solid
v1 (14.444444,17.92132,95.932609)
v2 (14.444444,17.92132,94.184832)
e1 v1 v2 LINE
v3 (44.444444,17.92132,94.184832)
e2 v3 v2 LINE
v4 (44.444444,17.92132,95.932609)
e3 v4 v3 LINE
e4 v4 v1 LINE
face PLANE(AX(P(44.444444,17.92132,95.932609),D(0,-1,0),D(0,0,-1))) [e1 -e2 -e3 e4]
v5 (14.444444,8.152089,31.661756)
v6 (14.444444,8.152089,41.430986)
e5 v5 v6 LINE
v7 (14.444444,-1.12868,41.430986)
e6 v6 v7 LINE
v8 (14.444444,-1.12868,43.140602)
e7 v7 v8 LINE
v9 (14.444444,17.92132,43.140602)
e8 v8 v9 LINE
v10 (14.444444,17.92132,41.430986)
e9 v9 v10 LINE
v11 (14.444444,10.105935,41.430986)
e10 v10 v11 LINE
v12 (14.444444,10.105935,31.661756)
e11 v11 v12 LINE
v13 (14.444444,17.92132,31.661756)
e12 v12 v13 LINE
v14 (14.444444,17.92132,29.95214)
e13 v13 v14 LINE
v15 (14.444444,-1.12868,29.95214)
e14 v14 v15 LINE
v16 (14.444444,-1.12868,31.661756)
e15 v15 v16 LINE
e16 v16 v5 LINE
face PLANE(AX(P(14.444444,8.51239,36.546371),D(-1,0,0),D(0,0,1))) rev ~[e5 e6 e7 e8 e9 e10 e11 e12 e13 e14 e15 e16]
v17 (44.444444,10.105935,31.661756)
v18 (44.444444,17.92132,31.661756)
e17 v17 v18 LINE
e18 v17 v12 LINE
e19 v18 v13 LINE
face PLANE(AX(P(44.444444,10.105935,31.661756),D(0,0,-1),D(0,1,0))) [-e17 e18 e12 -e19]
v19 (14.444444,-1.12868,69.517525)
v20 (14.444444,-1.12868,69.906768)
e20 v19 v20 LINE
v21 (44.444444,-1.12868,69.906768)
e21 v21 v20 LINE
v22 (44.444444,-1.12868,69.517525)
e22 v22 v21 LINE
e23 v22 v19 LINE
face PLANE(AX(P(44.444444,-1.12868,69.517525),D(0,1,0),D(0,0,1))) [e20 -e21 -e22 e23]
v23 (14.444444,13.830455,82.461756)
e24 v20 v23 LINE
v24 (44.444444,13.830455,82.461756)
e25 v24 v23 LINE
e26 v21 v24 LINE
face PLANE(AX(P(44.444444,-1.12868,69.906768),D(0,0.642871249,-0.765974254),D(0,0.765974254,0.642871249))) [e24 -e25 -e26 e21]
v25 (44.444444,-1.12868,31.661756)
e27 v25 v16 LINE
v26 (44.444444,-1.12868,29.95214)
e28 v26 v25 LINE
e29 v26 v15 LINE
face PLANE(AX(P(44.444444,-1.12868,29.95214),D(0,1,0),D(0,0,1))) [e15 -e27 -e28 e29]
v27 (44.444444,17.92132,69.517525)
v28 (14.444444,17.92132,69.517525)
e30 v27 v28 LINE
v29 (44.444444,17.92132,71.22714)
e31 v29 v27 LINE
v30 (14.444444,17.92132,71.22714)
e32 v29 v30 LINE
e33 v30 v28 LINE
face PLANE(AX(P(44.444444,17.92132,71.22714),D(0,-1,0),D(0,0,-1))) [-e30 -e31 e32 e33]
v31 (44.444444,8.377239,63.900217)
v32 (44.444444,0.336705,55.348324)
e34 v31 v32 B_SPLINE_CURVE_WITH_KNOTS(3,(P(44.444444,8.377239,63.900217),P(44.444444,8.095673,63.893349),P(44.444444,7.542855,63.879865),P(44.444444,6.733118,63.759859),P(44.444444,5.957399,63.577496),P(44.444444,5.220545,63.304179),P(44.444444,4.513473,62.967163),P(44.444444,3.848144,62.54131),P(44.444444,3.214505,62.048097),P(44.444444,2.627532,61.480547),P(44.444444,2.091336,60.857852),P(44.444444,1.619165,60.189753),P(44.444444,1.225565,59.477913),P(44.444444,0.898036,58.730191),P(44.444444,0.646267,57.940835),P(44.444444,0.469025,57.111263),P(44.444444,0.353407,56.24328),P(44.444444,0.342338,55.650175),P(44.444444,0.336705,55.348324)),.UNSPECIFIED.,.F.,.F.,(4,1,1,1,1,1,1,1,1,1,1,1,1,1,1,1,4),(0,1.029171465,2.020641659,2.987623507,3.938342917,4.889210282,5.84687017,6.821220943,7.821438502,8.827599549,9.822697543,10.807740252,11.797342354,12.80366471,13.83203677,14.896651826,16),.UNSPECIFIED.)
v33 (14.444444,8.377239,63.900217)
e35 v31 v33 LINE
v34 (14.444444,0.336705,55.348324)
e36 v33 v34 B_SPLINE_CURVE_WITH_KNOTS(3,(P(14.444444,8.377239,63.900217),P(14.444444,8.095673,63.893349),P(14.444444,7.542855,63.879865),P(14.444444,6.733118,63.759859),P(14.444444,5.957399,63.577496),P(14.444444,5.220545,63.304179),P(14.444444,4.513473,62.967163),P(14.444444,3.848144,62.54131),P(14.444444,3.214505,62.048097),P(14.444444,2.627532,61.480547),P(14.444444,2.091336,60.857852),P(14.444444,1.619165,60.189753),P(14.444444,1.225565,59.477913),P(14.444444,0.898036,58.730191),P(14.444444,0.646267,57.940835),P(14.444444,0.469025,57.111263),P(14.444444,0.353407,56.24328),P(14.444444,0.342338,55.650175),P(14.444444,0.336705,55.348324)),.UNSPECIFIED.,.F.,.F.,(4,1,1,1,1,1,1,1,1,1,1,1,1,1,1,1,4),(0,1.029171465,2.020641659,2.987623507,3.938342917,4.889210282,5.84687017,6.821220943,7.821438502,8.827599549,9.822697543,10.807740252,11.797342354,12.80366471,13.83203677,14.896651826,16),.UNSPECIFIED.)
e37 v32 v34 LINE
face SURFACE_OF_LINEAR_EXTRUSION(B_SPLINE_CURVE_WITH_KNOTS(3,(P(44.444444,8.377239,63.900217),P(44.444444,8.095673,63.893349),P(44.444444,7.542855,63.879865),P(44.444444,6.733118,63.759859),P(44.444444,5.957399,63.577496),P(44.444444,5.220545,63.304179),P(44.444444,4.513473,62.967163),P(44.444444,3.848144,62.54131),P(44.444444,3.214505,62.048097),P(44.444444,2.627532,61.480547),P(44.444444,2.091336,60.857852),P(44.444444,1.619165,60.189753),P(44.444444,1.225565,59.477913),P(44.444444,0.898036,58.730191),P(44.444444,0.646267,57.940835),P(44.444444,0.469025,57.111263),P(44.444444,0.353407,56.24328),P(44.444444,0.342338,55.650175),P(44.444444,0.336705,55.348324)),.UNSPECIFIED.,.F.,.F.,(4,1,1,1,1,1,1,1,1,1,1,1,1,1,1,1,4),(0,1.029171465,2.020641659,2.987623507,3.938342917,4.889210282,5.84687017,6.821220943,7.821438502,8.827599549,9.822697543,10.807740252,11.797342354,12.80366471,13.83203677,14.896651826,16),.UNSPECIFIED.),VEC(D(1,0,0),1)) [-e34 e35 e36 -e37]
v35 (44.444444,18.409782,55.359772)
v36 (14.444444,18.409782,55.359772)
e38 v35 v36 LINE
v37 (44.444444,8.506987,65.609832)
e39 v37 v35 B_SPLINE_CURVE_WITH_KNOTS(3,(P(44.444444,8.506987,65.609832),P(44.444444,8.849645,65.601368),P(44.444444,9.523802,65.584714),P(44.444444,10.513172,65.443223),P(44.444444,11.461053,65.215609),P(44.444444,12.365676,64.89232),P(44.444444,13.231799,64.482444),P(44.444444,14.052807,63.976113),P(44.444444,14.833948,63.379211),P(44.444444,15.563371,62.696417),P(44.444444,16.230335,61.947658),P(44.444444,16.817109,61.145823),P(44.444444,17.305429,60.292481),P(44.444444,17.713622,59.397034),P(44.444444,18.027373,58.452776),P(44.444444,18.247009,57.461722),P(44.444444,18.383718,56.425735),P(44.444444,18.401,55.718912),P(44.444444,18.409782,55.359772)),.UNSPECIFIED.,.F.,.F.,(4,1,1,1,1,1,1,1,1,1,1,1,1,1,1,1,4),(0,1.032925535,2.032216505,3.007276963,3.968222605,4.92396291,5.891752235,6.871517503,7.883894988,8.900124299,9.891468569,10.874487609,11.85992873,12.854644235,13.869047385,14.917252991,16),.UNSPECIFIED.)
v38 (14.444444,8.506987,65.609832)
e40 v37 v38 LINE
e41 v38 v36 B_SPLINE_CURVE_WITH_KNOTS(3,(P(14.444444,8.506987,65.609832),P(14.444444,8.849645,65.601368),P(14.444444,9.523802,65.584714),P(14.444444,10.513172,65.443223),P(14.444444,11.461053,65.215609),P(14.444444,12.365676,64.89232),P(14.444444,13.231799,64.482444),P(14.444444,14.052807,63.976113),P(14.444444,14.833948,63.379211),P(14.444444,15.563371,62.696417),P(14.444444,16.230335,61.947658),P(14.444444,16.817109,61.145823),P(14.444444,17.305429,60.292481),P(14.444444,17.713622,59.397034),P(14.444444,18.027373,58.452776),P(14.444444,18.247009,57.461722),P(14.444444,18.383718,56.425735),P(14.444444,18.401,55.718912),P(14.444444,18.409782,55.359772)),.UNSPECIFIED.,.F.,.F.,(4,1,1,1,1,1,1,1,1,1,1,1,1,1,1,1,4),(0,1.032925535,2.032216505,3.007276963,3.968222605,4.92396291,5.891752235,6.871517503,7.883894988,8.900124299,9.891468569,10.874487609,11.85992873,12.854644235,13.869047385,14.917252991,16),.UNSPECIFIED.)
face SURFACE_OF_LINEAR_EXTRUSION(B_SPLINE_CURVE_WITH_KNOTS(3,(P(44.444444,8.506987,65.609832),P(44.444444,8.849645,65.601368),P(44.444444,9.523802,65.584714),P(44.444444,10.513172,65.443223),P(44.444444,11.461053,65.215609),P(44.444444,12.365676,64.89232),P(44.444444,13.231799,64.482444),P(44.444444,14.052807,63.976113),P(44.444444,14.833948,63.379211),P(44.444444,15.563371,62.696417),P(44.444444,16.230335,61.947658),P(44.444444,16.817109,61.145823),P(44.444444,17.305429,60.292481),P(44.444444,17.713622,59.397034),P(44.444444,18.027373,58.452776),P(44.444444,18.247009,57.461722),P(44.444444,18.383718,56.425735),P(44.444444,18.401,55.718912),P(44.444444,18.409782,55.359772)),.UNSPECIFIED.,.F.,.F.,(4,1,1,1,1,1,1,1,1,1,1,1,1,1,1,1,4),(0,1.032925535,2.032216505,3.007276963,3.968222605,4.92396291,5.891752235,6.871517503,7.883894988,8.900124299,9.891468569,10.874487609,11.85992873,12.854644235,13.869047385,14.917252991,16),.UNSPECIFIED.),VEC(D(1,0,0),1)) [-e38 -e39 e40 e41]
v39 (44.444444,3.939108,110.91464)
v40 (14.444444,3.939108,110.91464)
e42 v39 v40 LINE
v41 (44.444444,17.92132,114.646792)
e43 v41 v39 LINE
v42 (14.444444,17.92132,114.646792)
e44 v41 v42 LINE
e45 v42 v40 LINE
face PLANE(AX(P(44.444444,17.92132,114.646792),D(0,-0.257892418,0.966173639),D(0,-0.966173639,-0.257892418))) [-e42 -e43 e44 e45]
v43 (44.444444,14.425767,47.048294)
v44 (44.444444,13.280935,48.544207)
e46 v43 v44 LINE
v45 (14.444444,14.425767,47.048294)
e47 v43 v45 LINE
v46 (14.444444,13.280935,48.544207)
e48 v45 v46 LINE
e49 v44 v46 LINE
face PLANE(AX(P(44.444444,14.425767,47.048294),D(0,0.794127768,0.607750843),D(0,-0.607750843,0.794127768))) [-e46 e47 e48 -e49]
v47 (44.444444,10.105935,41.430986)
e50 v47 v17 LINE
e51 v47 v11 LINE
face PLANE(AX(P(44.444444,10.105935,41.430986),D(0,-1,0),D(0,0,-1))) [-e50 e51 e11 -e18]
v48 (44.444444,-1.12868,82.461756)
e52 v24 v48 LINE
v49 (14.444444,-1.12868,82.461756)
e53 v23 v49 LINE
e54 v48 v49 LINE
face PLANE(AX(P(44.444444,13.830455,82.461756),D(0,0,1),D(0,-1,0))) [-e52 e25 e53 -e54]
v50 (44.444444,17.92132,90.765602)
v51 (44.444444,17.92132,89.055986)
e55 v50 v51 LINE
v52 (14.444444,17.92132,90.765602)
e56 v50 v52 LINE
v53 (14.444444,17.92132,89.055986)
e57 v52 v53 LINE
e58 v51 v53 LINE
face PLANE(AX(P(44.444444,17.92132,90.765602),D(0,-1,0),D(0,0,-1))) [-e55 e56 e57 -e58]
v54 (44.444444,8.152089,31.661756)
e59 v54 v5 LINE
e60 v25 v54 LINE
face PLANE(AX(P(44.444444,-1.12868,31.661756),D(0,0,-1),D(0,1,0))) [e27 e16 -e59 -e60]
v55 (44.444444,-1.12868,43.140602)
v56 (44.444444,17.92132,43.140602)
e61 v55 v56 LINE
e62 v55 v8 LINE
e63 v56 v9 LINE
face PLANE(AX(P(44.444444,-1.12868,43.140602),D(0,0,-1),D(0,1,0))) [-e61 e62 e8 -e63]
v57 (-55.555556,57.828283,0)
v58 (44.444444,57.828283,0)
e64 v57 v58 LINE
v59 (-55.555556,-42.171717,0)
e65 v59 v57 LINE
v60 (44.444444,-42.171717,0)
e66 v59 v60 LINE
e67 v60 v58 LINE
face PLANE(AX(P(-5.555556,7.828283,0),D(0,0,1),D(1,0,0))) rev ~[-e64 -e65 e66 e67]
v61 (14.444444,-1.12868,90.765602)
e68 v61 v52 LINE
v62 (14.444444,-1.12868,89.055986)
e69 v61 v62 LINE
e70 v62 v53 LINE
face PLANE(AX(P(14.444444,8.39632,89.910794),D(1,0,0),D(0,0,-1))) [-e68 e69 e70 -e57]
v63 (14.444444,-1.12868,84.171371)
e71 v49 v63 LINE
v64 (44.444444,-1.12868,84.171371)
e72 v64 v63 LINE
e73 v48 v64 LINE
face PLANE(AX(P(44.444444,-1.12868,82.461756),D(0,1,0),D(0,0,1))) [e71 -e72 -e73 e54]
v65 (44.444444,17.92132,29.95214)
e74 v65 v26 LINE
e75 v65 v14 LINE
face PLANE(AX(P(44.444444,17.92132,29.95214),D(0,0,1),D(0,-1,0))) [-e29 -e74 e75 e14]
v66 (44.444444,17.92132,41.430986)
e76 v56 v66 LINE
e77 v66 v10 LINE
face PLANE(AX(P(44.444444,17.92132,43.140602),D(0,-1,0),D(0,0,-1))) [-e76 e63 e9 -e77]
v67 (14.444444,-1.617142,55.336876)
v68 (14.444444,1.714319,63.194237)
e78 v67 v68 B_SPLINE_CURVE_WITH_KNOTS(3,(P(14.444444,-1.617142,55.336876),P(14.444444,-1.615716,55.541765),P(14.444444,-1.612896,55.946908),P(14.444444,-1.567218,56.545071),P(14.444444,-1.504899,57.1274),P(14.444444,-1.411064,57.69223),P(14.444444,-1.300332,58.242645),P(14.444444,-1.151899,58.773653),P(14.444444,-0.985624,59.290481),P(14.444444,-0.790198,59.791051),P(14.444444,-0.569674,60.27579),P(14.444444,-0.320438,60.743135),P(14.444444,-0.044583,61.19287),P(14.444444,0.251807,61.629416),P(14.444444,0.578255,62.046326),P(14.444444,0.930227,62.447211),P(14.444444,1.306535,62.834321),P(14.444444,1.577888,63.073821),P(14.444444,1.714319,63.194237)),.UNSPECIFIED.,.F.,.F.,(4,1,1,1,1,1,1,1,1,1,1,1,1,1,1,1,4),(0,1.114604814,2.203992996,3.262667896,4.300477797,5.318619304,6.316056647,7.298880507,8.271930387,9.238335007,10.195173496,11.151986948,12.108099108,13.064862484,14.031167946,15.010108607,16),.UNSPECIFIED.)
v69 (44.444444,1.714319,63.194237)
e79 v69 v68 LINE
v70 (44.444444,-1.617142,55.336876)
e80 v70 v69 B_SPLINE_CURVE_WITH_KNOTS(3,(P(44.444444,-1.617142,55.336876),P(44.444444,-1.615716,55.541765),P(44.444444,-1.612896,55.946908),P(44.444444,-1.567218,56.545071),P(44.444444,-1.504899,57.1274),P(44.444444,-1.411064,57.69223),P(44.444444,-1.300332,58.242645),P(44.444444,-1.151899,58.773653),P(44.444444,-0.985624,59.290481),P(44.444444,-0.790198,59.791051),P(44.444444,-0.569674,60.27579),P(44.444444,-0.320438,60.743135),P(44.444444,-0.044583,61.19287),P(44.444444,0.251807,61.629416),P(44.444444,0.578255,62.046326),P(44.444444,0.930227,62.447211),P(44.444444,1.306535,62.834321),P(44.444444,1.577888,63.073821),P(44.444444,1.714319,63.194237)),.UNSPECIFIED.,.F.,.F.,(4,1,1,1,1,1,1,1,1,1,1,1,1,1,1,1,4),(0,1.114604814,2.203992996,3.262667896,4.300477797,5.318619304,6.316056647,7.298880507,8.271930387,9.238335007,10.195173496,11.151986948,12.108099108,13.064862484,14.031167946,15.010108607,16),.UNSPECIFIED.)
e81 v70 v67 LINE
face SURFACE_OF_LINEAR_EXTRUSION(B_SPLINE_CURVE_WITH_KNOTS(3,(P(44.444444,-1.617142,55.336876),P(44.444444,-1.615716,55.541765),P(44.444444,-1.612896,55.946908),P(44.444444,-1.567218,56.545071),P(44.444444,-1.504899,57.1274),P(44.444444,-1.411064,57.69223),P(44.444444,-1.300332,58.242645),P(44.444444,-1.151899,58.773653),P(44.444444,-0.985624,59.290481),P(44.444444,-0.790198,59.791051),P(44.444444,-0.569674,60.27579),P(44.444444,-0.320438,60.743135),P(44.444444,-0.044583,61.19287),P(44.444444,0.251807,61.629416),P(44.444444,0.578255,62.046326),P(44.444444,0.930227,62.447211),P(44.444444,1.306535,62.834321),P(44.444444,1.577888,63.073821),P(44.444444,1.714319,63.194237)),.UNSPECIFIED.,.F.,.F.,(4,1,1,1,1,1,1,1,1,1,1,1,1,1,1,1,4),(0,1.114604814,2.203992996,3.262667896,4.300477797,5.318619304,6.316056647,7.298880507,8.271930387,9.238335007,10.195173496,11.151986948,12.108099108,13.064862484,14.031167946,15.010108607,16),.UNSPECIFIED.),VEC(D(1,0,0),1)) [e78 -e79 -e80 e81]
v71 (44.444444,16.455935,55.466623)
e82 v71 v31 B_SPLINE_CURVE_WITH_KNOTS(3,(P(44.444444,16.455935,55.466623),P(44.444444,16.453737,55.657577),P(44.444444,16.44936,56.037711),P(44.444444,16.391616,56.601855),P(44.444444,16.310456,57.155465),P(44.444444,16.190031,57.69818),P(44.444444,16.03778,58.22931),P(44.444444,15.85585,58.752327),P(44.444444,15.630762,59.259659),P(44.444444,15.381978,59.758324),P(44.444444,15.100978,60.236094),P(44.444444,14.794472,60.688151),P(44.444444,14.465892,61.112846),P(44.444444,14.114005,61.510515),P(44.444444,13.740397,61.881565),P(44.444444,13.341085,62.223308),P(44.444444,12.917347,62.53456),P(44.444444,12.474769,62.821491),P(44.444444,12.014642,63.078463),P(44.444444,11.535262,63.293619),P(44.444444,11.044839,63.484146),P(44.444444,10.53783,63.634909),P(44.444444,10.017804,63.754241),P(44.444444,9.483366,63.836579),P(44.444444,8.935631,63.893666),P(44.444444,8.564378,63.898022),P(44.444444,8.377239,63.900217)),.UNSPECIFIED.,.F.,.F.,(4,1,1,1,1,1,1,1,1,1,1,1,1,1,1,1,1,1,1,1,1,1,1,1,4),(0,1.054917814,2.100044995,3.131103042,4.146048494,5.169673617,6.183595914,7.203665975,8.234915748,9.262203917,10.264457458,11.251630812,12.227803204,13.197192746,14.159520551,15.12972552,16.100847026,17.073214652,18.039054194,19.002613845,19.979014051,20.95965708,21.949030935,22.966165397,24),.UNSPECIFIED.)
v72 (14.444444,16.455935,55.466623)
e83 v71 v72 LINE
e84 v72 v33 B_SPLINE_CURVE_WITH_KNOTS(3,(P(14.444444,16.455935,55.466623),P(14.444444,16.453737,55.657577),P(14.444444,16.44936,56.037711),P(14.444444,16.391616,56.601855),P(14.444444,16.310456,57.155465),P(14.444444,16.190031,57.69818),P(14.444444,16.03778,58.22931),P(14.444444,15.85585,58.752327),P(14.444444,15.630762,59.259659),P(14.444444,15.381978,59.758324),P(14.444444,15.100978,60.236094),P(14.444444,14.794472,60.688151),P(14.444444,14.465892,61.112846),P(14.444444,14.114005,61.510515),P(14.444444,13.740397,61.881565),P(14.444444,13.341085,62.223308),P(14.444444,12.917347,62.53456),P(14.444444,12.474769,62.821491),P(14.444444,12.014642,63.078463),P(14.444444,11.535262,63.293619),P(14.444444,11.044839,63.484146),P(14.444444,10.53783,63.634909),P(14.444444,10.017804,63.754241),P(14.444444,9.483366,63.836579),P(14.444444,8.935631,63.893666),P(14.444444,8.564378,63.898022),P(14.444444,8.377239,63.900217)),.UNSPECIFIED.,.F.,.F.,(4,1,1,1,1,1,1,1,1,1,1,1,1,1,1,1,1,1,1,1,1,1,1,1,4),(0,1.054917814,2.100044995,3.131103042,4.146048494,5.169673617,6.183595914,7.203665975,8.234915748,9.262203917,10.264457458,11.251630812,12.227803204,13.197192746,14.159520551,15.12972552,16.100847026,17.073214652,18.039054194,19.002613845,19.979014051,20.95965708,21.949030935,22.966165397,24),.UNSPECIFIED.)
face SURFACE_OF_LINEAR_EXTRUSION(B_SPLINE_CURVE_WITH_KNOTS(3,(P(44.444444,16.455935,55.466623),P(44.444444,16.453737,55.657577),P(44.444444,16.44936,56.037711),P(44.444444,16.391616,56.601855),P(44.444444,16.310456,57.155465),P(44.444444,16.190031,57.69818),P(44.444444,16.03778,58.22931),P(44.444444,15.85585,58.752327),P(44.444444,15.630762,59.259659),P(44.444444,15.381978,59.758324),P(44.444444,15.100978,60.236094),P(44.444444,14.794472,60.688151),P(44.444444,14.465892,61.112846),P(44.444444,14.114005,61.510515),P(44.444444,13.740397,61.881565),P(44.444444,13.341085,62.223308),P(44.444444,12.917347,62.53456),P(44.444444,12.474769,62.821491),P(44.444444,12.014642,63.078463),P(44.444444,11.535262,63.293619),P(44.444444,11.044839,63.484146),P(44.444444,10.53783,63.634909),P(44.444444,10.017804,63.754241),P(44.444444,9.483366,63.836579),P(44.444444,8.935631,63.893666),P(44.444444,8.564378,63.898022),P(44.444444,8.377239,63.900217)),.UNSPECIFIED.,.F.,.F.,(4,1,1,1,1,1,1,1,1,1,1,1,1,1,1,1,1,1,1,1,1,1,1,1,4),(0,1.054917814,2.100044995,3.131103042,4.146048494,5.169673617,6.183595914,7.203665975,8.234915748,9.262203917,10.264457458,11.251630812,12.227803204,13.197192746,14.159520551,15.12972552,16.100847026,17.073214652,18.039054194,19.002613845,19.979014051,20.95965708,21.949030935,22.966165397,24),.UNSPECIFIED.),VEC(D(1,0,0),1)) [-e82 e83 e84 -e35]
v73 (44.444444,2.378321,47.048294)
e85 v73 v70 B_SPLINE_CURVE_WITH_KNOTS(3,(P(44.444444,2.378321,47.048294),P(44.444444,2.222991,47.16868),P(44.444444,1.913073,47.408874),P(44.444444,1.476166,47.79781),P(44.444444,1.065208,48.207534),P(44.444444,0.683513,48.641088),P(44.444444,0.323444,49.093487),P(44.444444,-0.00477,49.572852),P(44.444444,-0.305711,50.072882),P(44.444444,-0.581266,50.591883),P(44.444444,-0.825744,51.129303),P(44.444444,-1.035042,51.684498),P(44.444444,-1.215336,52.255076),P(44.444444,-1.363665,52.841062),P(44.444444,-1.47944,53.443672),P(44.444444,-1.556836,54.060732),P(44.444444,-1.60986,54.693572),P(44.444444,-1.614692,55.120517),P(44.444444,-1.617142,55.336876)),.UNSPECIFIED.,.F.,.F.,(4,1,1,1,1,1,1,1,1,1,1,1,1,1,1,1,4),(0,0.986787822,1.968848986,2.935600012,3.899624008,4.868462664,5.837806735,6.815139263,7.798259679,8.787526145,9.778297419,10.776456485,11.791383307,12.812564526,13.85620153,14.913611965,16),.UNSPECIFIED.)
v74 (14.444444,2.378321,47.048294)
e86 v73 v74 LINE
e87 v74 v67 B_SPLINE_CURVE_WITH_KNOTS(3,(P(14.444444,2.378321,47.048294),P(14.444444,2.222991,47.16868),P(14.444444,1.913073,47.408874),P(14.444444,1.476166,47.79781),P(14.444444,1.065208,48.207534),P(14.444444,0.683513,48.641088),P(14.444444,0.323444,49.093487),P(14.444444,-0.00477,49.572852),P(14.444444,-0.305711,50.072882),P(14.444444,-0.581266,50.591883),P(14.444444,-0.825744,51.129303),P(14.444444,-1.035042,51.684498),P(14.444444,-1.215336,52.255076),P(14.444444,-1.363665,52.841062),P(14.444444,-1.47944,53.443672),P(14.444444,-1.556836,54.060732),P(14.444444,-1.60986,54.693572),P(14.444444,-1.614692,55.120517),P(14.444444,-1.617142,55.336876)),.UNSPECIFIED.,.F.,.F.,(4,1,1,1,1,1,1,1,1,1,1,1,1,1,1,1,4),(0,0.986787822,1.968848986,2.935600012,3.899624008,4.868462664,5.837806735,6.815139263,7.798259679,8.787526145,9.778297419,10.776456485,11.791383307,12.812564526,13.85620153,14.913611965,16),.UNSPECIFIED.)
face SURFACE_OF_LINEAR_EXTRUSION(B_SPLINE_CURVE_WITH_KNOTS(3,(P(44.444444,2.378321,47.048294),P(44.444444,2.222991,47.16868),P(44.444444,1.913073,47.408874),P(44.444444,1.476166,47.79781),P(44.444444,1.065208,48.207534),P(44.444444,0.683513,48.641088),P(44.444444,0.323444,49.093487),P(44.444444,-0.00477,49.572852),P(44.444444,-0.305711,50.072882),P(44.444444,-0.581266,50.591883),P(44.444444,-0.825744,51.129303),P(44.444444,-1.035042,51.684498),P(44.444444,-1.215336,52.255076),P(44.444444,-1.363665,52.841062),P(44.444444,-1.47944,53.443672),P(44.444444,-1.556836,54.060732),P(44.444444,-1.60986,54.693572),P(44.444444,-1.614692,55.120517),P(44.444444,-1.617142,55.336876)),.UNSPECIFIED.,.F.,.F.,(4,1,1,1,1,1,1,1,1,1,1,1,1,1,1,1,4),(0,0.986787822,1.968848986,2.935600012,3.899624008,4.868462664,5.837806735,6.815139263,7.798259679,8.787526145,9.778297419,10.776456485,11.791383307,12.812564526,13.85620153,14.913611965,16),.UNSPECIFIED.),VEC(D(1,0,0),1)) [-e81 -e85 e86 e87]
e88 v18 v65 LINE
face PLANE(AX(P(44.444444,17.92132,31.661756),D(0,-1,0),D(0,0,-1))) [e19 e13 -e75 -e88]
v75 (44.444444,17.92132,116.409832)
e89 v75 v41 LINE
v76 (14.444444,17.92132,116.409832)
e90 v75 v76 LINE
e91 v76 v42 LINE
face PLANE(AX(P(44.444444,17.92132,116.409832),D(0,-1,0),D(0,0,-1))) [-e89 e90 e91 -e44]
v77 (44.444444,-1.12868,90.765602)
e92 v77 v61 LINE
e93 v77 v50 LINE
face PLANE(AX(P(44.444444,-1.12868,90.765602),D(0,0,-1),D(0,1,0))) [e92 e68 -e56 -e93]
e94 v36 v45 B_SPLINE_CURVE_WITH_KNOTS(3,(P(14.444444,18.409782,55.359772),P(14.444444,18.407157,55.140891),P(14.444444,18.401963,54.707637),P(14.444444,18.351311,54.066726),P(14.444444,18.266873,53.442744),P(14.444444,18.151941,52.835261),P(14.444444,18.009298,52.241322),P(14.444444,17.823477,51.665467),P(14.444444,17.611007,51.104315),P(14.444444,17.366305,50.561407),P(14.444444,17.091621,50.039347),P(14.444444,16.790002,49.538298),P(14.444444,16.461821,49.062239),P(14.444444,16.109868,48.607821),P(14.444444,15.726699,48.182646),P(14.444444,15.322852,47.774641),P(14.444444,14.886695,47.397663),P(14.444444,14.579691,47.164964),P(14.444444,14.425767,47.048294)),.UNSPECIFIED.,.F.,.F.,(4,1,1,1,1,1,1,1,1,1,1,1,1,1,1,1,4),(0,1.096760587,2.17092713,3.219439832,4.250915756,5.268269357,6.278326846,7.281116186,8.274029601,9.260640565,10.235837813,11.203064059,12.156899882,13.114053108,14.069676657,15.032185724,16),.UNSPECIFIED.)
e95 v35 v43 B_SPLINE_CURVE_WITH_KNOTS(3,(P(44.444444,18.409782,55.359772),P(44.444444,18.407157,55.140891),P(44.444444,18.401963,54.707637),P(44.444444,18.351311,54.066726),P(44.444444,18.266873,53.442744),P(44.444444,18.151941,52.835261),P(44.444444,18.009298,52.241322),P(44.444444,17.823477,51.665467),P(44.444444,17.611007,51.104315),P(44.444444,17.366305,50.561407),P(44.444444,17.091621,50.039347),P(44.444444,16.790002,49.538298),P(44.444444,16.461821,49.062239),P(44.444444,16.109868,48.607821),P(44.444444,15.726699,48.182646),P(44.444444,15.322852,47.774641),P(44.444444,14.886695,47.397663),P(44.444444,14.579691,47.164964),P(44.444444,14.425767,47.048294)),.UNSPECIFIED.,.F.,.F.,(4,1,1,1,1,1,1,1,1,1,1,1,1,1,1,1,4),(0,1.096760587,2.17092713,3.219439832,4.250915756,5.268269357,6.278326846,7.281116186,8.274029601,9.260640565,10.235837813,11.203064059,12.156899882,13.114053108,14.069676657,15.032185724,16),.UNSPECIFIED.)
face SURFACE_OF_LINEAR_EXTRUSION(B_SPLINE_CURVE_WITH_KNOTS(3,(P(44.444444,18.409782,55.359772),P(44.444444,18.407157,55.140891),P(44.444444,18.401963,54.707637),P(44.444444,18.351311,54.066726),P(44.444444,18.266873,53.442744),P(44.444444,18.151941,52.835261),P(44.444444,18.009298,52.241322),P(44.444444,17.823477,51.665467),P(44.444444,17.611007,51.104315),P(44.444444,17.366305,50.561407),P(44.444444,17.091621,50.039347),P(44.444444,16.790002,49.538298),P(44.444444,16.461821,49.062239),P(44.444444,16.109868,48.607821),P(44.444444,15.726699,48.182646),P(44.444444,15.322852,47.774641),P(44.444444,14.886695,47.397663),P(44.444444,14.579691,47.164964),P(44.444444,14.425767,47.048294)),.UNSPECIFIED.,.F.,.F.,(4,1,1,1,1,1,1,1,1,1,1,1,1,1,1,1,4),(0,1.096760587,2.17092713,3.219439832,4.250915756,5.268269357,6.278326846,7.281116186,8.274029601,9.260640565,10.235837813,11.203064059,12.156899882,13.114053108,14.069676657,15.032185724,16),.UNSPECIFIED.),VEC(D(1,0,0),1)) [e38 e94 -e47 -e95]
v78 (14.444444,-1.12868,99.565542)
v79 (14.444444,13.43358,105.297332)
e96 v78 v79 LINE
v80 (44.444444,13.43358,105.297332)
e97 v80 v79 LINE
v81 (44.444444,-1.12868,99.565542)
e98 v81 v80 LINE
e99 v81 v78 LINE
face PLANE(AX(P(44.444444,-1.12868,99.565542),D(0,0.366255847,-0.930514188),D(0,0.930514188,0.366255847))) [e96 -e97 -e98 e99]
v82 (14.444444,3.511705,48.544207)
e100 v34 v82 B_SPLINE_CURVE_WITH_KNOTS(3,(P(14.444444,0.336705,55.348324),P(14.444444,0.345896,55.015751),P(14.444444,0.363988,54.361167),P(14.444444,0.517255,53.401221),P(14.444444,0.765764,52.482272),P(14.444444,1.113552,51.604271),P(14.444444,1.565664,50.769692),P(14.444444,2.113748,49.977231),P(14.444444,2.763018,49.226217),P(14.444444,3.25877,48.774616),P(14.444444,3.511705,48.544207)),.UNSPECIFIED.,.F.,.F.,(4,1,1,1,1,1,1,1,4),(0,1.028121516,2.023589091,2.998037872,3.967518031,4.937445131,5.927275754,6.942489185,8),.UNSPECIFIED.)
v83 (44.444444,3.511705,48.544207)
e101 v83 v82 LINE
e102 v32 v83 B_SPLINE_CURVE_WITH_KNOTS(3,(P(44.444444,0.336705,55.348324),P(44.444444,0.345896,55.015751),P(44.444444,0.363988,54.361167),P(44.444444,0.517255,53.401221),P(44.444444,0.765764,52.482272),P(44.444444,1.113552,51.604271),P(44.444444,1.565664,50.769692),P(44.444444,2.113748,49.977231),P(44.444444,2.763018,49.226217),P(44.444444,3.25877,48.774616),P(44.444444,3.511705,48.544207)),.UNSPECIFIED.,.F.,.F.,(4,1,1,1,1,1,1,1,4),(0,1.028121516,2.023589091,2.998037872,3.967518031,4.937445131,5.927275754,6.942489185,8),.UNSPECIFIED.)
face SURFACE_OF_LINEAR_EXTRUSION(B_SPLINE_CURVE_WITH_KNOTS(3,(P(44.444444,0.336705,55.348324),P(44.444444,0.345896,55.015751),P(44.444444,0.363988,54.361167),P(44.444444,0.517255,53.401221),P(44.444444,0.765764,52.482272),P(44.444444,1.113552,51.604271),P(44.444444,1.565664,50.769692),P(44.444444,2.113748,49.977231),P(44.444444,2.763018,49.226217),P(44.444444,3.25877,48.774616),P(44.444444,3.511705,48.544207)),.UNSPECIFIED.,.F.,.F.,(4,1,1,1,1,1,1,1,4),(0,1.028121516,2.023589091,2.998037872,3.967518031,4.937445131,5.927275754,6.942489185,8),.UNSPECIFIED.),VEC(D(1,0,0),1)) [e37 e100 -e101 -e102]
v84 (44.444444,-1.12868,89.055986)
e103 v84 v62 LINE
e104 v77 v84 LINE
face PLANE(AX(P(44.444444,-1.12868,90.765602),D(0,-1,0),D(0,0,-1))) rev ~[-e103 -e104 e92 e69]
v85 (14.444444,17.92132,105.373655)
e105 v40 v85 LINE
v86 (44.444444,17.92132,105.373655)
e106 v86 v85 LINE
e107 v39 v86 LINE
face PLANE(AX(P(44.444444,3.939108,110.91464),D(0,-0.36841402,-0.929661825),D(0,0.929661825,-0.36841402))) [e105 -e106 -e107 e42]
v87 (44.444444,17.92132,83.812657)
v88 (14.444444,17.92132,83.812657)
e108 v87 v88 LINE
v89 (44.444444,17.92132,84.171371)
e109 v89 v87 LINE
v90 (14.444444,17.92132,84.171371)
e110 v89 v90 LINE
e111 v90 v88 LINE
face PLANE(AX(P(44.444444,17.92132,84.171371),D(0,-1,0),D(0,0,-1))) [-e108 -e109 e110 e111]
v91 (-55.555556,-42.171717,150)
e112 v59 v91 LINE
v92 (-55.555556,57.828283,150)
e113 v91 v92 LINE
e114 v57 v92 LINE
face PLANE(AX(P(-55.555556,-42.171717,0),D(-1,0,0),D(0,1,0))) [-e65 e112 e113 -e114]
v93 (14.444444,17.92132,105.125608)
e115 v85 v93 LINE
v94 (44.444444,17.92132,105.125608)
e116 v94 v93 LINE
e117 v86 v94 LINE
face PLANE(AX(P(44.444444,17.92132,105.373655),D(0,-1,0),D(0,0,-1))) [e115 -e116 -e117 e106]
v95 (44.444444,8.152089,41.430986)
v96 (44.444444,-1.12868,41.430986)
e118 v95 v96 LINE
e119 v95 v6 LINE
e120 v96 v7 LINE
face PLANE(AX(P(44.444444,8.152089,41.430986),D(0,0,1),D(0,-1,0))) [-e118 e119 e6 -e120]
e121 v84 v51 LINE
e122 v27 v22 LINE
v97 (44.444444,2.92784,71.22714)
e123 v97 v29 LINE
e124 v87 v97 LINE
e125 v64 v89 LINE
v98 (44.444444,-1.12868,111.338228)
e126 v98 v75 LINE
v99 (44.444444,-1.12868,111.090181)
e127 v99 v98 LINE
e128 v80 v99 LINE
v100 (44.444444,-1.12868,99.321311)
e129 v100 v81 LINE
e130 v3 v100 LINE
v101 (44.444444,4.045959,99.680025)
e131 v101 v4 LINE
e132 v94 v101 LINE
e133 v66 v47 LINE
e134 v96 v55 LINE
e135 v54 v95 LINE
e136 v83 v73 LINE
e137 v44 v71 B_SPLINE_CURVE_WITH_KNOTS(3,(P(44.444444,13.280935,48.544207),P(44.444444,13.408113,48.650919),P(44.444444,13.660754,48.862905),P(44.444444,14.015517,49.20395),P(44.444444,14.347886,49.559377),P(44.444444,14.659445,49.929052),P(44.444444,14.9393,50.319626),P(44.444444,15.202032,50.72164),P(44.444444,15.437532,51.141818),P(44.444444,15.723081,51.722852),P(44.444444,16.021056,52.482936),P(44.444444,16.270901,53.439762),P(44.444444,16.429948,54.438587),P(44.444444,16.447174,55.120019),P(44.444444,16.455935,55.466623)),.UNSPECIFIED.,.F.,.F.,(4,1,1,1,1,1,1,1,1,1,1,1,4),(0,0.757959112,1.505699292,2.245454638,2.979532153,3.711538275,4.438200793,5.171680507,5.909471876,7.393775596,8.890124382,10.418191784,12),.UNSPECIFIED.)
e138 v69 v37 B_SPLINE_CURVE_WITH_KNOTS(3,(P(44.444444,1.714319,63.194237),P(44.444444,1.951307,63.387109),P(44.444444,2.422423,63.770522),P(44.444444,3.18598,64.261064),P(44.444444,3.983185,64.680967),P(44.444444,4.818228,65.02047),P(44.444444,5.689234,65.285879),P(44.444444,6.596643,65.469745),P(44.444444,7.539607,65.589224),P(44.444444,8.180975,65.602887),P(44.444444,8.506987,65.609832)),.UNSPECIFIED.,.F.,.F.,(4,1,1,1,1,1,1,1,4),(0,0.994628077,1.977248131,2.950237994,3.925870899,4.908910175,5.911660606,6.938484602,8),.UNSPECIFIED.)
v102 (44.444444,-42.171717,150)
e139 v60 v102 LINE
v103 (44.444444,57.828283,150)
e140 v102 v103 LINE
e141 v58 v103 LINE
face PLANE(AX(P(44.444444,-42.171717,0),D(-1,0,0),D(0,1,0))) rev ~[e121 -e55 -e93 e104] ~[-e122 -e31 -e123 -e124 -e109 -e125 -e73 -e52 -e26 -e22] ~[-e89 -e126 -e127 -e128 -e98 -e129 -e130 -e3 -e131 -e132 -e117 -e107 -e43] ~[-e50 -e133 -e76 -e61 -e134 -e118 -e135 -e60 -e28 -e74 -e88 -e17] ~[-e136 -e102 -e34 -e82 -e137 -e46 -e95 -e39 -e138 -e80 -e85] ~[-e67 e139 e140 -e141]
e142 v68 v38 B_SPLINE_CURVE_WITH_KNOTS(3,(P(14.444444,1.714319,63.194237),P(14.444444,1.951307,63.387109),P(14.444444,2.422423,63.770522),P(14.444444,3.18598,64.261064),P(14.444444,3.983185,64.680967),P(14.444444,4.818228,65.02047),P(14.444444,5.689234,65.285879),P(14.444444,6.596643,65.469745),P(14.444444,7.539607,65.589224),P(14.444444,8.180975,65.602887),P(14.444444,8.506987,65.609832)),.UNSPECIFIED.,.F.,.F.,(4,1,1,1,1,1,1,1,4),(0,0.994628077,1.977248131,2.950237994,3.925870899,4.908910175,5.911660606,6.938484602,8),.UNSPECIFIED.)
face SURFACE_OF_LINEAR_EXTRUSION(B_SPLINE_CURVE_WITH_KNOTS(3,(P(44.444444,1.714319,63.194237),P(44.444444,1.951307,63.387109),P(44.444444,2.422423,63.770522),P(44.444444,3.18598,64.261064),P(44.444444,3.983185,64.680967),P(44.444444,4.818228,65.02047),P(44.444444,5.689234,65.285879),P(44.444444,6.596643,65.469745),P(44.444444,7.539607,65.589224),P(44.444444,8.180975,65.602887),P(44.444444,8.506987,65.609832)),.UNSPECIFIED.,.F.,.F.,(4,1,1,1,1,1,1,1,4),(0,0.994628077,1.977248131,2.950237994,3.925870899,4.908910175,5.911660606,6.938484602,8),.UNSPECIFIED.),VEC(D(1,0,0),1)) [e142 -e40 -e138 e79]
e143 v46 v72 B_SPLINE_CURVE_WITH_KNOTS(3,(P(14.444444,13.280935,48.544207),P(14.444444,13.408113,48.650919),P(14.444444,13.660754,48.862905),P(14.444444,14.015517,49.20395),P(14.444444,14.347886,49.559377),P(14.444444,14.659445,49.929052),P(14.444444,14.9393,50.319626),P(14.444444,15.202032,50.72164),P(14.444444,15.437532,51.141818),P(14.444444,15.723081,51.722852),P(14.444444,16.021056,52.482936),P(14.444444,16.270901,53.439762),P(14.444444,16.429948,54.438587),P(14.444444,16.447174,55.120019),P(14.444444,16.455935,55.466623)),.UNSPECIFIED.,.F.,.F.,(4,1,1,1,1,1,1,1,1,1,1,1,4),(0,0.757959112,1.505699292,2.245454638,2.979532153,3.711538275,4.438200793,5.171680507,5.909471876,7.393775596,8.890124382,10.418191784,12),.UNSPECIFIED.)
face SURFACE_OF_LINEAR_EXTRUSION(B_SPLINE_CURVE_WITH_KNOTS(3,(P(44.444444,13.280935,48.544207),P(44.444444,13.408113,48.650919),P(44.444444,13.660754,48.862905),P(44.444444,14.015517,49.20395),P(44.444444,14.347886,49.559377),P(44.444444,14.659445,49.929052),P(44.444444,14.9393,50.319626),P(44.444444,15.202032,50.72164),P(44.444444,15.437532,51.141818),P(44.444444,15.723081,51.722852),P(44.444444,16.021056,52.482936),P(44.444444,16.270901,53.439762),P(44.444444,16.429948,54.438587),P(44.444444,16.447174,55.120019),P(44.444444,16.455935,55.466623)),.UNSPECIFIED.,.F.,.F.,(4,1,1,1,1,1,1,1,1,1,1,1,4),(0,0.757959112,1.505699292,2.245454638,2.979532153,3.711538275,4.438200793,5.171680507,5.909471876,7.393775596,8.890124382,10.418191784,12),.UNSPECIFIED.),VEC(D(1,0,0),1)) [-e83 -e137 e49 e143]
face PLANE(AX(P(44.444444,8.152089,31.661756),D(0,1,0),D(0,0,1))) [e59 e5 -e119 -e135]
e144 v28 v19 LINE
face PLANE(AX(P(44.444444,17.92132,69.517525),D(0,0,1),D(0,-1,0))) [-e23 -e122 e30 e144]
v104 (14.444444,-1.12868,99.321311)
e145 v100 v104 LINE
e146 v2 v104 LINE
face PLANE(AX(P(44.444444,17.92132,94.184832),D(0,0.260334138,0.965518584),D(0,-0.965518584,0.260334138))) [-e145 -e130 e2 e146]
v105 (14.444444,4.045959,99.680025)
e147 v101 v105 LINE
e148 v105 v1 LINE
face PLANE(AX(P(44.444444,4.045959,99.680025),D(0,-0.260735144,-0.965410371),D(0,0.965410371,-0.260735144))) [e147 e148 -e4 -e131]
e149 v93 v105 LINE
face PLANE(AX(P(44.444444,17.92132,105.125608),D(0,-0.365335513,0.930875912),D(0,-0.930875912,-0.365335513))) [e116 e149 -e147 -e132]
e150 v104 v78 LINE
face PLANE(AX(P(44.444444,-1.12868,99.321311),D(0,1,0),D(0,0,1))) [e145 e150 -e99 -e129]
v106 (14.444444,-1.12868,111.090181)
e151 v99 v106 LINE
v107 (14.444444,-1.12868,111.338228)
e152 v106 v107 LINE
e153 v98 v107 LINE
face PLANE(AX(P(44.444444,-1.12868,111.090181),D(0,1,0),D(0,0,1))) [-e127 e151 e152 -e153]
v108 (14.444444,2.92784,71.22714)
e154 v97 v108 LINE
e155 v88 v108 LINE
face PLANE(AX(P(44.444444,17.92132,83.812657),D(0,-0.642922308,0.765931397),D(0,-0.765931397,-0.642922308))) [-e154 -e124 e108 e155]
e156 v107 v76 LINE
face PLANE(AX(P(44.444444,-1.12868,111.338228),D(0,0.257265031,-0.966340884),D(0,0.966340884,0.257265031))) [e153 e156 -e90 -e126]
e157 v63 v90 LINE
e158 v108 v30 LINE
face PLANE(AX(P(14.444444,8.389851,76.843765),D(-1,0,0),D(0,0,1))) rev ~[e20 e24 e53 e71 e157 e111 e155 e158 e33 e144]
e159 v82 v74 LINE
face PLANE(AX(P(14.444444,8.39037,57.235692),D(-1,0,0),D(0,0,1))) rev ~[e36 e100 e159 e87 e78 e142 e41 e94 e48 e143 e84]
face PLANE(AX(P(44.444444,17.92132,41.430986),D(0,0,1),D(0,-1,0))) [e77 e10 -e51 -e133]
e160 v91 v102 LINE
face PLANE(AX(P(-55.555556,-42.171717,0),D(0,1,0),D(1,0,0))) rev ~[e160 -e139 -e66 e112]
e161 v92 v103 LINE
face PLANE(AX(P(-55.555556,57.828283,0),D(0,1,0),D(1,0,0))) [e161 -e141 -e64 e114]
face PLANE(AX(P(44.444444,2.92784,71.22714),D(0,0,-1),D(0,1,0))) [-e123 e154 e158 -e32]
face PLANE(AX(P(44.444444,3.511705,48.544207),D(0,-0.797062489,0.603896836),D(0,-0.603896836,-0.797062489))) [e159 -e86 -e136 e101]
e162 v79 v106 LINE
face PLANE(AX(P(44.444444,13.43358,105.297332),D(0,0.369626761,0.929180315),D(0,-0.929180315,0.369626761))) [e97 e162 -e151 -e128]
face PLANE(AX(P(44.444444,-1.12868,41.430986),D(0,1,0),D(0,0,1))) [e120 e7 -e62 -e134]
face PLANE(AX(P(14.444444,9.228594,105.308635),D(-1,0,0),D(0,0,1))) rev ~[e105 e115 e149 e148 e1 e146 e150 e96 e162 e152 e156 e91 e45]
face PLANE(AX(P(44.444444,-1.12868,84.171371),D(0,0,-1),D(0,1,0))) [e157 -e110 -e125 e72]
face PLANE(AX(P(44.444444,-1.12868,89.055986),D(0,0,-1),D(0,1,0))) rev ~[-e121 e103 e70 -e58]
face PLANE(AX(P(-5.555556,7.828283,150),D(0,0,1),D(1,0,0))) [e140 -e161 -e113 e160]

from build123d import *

# Parameters (mm, degrees)
SKETCH1_W           = 100
SKETCH1_H           = 100
BOSS_EXTRUDE1_DEPTH = 150
SKETCH2_W           = 1.709615385
SKETCH2_H           = 19.05
CUT_EXTRUDE1_DEPTH  = 30


with BuildPart() as part:
    # Sketch1 → Boss-Extrude1 (new body)
    with BuildSketch(Plane.XY):
        with Locations((-5.555555556, 7.828282828)):
            Rectangle(SKETCH1_W, SKETCH1_H)
    extrude(amount=BOSS_EXTRUDE1_DEPTH)

    # Sketch2 → Cut-Extrude1 (cut)
    with BuildSketch(Plane(origin=(44.444444444, 0, 0), x_dir=(0, 0, -1), z_dir=(1, 0, 0))):
        Polygon((-116.409832449, 17.921320019), (-114.646791584, 17.921320019), (-110.914640142, 3.939108481), (-105.373654565, 17.921320019), (-105.12560769, 17.921320019), (-99.680024757, 4.045959442), (-95.932608892, 17.921320019), (-94.184832449, 17.921320019), (-99.321310815, -1.128679981), (-99.565541584, -1.128679981), (-105.297332449, 13.433579635), (-111.090181007, -1.128679981), (-111.338227882, -1.128679981), align=None)
        with Locations((-89.910793987, 8.396320019)):
            Rectangle(SKETCH2_W, SKETCH2_H)
        Polygon((-84.171370911, -1.128679981), (-84.171370911, 17.921320019), (-83.812656969, 17.921320019), (-71.227140142, 2.927840452), (-71.227140142, 17.921320019), (-69.517524757, 17.921320019), (-69.517524757, -1.128679981), (-69.906767545, -1.128679981), (-82.461755526, 13.830454635), (-82.461755526, -1.128679981), align=None)
        with BuildLine():
            Line((-47.048293988, 14.425767135), (-48.544207449, 13.280935404))
            add(Edge.make_bspline(
                [(-48.544207449, 13.280935404), (-48.650919499, 13.40811304), (-48.862904888, 13.660753681), (-49.203949976, 14.01551663), (-49.559377489, 14.347886125), (-49.929051563, 14.659445498), (-50.3196262, 14.939299609), (-50.721639975, 15.202032326), (-51.141817907, 15.437532443), (-51.722852348, 15.723080981), (-52.482935637, 16.021056482), (-53.439761832, 16.270901213), (-54.438586526, 16.429947897), (-55.120019175, 16.447173677), (-55.466623315, 16.455935404)],
                knots=[0, 0, 0, 0, 0.757959112, 1.505699292, 2.245454638, 2.979532153, 3.711538275, 4.438200793, 5.171680507, 5.909471876, 7.393775596, 8.890124382, 10.418191784, 12, 12, 12, 12], degree=3))
            add(Edge.make_bspline(
                [(-55.466623315, 16.455935404), (-55.657576701, 16.453736694), (-56.037711246, 16.449359679), (-56.601855081, 16.391615726), (-57.155464688, 16.31045614), (-57.698179954, 16.190031167), (-58.229310057, 16.037780197), (-58.752327274, 15.855850444), (-59.259659252, 15.630761959), (-59.758324235, 15.38197843), (-60.23609394, 15.100977623), (-60.6881507, 14.794472094), (-61.112845783, 14.465891726), (-61.510515143, 14.11400499), (-61.881565319, 13.740396605), (-62.223307682, 13.341084974), (-62.534559701, 12.917346716), (-62.821490937, 12.474769454), (-63.0784631, 12.014642331), (-63.293618587, 11.535262305), (-63.484146466, 11.044838544), (-63.634909487, 10.537830083), (-63.7542415, 10.017804458), (-63.83657921, 9.483366026), (-63.89366646, 8.935631284), (-63.898021709, 8.56437774), (-63.900217065, 8.377239491)],
                knots=[0, 0, 0, 0, 1.054917814, 2.100044995, 3.131103042, 4.146048494, 5.169673617, 6.183595914, 7.203665975, 8.234915748, 9.262203917, 10.264457458, 11.251630812, 12.227803204, 13.197192746, 14.159520551, 15.12972552, 16.100847026, 17.073214652, 18.039054194, 19.002613845, 19.979014051, 20.95965708, 21.949030935, 22.966165397, 24, 24, 24, 24], degree=3))
            add(Edge.make_bspline(
                [(-63.900217065, 8.377239491), (-63.893349164, 8.095673306), (-63.879864952, 7.542855452), (-63.759859019, 6.733118271), (-63.577495594, 5.957398604), (-63.304179382, 5.220545462), (-62.967162836, 4.513472828), (-62.541310364, 3.848144211), (-62.048097497, 3.214505482), (-61.480546728, 2.627531723), (-60.857852215, 2.09133559), (-60.189752868, 1.619164568), (-59.477912673, 1.225564993), (-58.7301913, 0.898035913), (-57.94083488, 0.646267152), (-57.111262884, 0.46902528), (-56.243279596, 0.353407126), (-55.650174719, 0.342338052), (-55.348324036, 0.336704635)],
                knots=[0, 0, 0, 0, 1.029171465, 2.020641659, 2.987623507, 3.938342917, 4.889210282, 5.84687017, 6.821220943, 7.821438502, 8.827599549, 9.822697543, 10.807740252, 11.797342354, 12.80366471, 13.83203677, 14.896651826, 16, 16, 16, 16], degree=3))
            add(Edge.make_bspline(
                [(-55.348324036, 0.336704635), (-55.015750829, 0.345896422), (-54.361167199, 0.363988057), (-53.401221227, 0.517254827), (-52.482272274, 0.765764352), (-51.60427091, 1.113551615), (-50.769692336, 1.56566411), (-49.977230513, 2.113748271), (-49.226216536, 2.763017625), (-48.7746157, 3.258770081), (-48.544207449, 3.511704635)],
                knots=[0, 0, 0, 0, 1.028121516, 2.023589091, 2.998037872, 3.967518031, 4.937445131, 5.927275754, 6.942489185, 8, 8, 8, 8], degree=3))
            Line((-48.544207449, 3.511704635), (-47.048293988, 2.378321221))
            add(Edge.make_bspline(
                [(-47.048293988, 2.378321221), (-47.1686797, 2.222990504), (-47.408874484, 1.913073096), (-47.797810262, 1.476165647), (-48.207533838, 1.065207968), (-48.641088488, 0.683513344), (-49.093486754, 0.323444039), (-49.572851768, -0.004770214), (-50.072881788, -0.305710599), (-50.591882595, -0.581265717), (-51.129302759, -0.825743875), (-51.684498326, -1.03504224), (-52.255076173, -1.215336282), (-52.841062383, -1.36366468), (-53.443672431, -1.479440151), (-54.060731725, -1.55683581), (-54.693572046, -1.609859658), (-55.120517495, -1.614692457), (-55.336875719, -1.617141519)],
                knots=[0, 0, 0, 0, 0.986787822, 1.968848986, 2.935600012, 3.899624008, 4.868462664, 5.837806735, 6.815139263, 7.798259679, 8.787526145, 9.778297419, 10.776456485, 11.791383307, 12.812564526, 13.85620153, 14.913611965, 16, 16, 16, 16], degree=3))
            add(Edge.make_bspline(
                [(-55.336875719, -1.617141519), (-55.541764821, -1.615715531), (-55.946907648, -1.612895816), (-56.545070853, -1.567218448), (-57.127399857, -1.504899166), (-57.692230321, -1.411063595), (-58.242644557, -1.300332259), (-58.773652881, -1.151898705), (-59.290480526, -0.985623955), (-59.791051066, -0.790198241), (-60.275790289, -0.569674448), (-60.743134748, -0.320437534), (-61.192869502, -0.044583385), (-61.629416149, 0.251807457), (-62.046325855, 0.578255343), (-62.447211471, 0.930226597), (-62.834320949, 1.306534912), (-63.073821277, 1.577887757), (-63.194237497, 1.714318817)],
                knots=[0, 0, 0, 0, 1.114604814, 2.203992996, 3.262667896, 4.300477797, 5.318619304, 6.316056647, 7.298880507, 8.271930387, 9.238335007, 10.195173496, 11.151986948, 12.108099108, 13.064862484, 14.031167946, 15.010108607, 16, 16, 16, 16], degree=3))
            add(Edge.make_bspline(
                [(-63.194237497, 1.714318817), (-63.387108643, 1.951307289), (-63.770522424, 2.422423098), (-64.261063644, 3.185979653), (-64.680966766, 3.98318519), (-65.020469992, 4.818227945), (-65.285878583, 5.689234153), (-65.469744801, 6.596642881), (-65.589224249, 7.539606681), (-65.602887392, 8.180975488), (-65.609832449, 8.506987087)],
                knots=[0, 0, 0, 0, 0.994628077, 1.977248131, 2.950237994, 3.925870899, 4.908910175, 5.911660606, 6.938484602, 8, 8, 8, 8], degree=3))
            add(Edge.make_bspline(
                [(-65.609832449, 8.506987087), (-65.601367753, 8.849644627), (-65.584713991, 9.523801945), (-65.44322259, 10.513171605), (-65.215608857, 11.46105279), (-64.892320077, 12.365676028), (-64.482443808, 13.231799411), (-63.976113238, 14.05280654), (-63.37921065, 14.833947978), (-62.69641746, 15.563371124), (-61.947658107, 16.230335315), (-61.145822848, 16.817109081), (-60.292481108, 17.305428704), (-59.397033944, 17.713622102), (-58.452776163, 18.02737268), (-57.461722397, 18.247009311), (-56.425734875, 18.383718186), (-55.718912244, 18.401000389), (-55.359772353, 18.409781558)],
                knots=[0, 0, 0, 0, 1.032925535, 2.032216505, 3.007276963, 3.968222605, 4.92396291, 5.891752235, 6.871517503, 7.883894988, 8.900124299, 9.891468569, 10.874487609, 11.85992873, 12.854644235, 13.869047385, 14.917252991, 16, 16, 16, 16], degree=3))
            add(Edge.make_bspline(
                [(-55.359772353, 18.409781558), (-55.140890727, 18.407157349), (-54.707636592, 18.401962991), (-54.066725727, 18.351310988), (-53.442743919, 18.266872646), (-52.835261288, 18.151940895), (-52.241322477, 18.009298188), (-51.66546688, 17.823477421), (-51.104315456, 17.611007158), (-50.561407284, 17.36630465), (-50.039347204, 17.091621386), (-49.538297813, 16.790002064), (-49.062239082, 16.461820608), (-48.607821207, 16.109868182), (-48.18264583, 15.726698881), (-47.774641211, 15.322851966), (-47.397663057, 14.886695008), (-47.164963524, 14.579691011), (-47.048293988, 14.425767135)],
                knots=[0, 0, 0, 0, 1.096760587, 2.17092713, 3.219439832, 4.250915756, 5.268269357, 6.278326846, 7.281116186, 8.274029601, 9.260640565, 10.235837813, 11.203064059, 12.156899882, 13.114053108, 14.069676657, 15.032185724, 16, 16, 16, 16], degree=3))
        make_face()
        Polygon((-43.14060168, 17.921320019), (-41.430986295, 17.921320019), (-41.430986295, 10.105935404), (-31.661755526, 10.105935404), (-31.661755526, 17.921320019), (-29.952140142, 17.921320019), (-29.952140142, -1.128679981), (-31.661755526, -1.128679981), (-31.661755526, 8.15208925), (-41.430986295, 8.15208925), (-41.430986295, -1.128679981), (-43.14060168, -1.128679981), align=None)
    extrude(amount=-CUT_EXTRUDE1_DEPTH, mode=Mode.SUBTRACT)


solid = part.part
